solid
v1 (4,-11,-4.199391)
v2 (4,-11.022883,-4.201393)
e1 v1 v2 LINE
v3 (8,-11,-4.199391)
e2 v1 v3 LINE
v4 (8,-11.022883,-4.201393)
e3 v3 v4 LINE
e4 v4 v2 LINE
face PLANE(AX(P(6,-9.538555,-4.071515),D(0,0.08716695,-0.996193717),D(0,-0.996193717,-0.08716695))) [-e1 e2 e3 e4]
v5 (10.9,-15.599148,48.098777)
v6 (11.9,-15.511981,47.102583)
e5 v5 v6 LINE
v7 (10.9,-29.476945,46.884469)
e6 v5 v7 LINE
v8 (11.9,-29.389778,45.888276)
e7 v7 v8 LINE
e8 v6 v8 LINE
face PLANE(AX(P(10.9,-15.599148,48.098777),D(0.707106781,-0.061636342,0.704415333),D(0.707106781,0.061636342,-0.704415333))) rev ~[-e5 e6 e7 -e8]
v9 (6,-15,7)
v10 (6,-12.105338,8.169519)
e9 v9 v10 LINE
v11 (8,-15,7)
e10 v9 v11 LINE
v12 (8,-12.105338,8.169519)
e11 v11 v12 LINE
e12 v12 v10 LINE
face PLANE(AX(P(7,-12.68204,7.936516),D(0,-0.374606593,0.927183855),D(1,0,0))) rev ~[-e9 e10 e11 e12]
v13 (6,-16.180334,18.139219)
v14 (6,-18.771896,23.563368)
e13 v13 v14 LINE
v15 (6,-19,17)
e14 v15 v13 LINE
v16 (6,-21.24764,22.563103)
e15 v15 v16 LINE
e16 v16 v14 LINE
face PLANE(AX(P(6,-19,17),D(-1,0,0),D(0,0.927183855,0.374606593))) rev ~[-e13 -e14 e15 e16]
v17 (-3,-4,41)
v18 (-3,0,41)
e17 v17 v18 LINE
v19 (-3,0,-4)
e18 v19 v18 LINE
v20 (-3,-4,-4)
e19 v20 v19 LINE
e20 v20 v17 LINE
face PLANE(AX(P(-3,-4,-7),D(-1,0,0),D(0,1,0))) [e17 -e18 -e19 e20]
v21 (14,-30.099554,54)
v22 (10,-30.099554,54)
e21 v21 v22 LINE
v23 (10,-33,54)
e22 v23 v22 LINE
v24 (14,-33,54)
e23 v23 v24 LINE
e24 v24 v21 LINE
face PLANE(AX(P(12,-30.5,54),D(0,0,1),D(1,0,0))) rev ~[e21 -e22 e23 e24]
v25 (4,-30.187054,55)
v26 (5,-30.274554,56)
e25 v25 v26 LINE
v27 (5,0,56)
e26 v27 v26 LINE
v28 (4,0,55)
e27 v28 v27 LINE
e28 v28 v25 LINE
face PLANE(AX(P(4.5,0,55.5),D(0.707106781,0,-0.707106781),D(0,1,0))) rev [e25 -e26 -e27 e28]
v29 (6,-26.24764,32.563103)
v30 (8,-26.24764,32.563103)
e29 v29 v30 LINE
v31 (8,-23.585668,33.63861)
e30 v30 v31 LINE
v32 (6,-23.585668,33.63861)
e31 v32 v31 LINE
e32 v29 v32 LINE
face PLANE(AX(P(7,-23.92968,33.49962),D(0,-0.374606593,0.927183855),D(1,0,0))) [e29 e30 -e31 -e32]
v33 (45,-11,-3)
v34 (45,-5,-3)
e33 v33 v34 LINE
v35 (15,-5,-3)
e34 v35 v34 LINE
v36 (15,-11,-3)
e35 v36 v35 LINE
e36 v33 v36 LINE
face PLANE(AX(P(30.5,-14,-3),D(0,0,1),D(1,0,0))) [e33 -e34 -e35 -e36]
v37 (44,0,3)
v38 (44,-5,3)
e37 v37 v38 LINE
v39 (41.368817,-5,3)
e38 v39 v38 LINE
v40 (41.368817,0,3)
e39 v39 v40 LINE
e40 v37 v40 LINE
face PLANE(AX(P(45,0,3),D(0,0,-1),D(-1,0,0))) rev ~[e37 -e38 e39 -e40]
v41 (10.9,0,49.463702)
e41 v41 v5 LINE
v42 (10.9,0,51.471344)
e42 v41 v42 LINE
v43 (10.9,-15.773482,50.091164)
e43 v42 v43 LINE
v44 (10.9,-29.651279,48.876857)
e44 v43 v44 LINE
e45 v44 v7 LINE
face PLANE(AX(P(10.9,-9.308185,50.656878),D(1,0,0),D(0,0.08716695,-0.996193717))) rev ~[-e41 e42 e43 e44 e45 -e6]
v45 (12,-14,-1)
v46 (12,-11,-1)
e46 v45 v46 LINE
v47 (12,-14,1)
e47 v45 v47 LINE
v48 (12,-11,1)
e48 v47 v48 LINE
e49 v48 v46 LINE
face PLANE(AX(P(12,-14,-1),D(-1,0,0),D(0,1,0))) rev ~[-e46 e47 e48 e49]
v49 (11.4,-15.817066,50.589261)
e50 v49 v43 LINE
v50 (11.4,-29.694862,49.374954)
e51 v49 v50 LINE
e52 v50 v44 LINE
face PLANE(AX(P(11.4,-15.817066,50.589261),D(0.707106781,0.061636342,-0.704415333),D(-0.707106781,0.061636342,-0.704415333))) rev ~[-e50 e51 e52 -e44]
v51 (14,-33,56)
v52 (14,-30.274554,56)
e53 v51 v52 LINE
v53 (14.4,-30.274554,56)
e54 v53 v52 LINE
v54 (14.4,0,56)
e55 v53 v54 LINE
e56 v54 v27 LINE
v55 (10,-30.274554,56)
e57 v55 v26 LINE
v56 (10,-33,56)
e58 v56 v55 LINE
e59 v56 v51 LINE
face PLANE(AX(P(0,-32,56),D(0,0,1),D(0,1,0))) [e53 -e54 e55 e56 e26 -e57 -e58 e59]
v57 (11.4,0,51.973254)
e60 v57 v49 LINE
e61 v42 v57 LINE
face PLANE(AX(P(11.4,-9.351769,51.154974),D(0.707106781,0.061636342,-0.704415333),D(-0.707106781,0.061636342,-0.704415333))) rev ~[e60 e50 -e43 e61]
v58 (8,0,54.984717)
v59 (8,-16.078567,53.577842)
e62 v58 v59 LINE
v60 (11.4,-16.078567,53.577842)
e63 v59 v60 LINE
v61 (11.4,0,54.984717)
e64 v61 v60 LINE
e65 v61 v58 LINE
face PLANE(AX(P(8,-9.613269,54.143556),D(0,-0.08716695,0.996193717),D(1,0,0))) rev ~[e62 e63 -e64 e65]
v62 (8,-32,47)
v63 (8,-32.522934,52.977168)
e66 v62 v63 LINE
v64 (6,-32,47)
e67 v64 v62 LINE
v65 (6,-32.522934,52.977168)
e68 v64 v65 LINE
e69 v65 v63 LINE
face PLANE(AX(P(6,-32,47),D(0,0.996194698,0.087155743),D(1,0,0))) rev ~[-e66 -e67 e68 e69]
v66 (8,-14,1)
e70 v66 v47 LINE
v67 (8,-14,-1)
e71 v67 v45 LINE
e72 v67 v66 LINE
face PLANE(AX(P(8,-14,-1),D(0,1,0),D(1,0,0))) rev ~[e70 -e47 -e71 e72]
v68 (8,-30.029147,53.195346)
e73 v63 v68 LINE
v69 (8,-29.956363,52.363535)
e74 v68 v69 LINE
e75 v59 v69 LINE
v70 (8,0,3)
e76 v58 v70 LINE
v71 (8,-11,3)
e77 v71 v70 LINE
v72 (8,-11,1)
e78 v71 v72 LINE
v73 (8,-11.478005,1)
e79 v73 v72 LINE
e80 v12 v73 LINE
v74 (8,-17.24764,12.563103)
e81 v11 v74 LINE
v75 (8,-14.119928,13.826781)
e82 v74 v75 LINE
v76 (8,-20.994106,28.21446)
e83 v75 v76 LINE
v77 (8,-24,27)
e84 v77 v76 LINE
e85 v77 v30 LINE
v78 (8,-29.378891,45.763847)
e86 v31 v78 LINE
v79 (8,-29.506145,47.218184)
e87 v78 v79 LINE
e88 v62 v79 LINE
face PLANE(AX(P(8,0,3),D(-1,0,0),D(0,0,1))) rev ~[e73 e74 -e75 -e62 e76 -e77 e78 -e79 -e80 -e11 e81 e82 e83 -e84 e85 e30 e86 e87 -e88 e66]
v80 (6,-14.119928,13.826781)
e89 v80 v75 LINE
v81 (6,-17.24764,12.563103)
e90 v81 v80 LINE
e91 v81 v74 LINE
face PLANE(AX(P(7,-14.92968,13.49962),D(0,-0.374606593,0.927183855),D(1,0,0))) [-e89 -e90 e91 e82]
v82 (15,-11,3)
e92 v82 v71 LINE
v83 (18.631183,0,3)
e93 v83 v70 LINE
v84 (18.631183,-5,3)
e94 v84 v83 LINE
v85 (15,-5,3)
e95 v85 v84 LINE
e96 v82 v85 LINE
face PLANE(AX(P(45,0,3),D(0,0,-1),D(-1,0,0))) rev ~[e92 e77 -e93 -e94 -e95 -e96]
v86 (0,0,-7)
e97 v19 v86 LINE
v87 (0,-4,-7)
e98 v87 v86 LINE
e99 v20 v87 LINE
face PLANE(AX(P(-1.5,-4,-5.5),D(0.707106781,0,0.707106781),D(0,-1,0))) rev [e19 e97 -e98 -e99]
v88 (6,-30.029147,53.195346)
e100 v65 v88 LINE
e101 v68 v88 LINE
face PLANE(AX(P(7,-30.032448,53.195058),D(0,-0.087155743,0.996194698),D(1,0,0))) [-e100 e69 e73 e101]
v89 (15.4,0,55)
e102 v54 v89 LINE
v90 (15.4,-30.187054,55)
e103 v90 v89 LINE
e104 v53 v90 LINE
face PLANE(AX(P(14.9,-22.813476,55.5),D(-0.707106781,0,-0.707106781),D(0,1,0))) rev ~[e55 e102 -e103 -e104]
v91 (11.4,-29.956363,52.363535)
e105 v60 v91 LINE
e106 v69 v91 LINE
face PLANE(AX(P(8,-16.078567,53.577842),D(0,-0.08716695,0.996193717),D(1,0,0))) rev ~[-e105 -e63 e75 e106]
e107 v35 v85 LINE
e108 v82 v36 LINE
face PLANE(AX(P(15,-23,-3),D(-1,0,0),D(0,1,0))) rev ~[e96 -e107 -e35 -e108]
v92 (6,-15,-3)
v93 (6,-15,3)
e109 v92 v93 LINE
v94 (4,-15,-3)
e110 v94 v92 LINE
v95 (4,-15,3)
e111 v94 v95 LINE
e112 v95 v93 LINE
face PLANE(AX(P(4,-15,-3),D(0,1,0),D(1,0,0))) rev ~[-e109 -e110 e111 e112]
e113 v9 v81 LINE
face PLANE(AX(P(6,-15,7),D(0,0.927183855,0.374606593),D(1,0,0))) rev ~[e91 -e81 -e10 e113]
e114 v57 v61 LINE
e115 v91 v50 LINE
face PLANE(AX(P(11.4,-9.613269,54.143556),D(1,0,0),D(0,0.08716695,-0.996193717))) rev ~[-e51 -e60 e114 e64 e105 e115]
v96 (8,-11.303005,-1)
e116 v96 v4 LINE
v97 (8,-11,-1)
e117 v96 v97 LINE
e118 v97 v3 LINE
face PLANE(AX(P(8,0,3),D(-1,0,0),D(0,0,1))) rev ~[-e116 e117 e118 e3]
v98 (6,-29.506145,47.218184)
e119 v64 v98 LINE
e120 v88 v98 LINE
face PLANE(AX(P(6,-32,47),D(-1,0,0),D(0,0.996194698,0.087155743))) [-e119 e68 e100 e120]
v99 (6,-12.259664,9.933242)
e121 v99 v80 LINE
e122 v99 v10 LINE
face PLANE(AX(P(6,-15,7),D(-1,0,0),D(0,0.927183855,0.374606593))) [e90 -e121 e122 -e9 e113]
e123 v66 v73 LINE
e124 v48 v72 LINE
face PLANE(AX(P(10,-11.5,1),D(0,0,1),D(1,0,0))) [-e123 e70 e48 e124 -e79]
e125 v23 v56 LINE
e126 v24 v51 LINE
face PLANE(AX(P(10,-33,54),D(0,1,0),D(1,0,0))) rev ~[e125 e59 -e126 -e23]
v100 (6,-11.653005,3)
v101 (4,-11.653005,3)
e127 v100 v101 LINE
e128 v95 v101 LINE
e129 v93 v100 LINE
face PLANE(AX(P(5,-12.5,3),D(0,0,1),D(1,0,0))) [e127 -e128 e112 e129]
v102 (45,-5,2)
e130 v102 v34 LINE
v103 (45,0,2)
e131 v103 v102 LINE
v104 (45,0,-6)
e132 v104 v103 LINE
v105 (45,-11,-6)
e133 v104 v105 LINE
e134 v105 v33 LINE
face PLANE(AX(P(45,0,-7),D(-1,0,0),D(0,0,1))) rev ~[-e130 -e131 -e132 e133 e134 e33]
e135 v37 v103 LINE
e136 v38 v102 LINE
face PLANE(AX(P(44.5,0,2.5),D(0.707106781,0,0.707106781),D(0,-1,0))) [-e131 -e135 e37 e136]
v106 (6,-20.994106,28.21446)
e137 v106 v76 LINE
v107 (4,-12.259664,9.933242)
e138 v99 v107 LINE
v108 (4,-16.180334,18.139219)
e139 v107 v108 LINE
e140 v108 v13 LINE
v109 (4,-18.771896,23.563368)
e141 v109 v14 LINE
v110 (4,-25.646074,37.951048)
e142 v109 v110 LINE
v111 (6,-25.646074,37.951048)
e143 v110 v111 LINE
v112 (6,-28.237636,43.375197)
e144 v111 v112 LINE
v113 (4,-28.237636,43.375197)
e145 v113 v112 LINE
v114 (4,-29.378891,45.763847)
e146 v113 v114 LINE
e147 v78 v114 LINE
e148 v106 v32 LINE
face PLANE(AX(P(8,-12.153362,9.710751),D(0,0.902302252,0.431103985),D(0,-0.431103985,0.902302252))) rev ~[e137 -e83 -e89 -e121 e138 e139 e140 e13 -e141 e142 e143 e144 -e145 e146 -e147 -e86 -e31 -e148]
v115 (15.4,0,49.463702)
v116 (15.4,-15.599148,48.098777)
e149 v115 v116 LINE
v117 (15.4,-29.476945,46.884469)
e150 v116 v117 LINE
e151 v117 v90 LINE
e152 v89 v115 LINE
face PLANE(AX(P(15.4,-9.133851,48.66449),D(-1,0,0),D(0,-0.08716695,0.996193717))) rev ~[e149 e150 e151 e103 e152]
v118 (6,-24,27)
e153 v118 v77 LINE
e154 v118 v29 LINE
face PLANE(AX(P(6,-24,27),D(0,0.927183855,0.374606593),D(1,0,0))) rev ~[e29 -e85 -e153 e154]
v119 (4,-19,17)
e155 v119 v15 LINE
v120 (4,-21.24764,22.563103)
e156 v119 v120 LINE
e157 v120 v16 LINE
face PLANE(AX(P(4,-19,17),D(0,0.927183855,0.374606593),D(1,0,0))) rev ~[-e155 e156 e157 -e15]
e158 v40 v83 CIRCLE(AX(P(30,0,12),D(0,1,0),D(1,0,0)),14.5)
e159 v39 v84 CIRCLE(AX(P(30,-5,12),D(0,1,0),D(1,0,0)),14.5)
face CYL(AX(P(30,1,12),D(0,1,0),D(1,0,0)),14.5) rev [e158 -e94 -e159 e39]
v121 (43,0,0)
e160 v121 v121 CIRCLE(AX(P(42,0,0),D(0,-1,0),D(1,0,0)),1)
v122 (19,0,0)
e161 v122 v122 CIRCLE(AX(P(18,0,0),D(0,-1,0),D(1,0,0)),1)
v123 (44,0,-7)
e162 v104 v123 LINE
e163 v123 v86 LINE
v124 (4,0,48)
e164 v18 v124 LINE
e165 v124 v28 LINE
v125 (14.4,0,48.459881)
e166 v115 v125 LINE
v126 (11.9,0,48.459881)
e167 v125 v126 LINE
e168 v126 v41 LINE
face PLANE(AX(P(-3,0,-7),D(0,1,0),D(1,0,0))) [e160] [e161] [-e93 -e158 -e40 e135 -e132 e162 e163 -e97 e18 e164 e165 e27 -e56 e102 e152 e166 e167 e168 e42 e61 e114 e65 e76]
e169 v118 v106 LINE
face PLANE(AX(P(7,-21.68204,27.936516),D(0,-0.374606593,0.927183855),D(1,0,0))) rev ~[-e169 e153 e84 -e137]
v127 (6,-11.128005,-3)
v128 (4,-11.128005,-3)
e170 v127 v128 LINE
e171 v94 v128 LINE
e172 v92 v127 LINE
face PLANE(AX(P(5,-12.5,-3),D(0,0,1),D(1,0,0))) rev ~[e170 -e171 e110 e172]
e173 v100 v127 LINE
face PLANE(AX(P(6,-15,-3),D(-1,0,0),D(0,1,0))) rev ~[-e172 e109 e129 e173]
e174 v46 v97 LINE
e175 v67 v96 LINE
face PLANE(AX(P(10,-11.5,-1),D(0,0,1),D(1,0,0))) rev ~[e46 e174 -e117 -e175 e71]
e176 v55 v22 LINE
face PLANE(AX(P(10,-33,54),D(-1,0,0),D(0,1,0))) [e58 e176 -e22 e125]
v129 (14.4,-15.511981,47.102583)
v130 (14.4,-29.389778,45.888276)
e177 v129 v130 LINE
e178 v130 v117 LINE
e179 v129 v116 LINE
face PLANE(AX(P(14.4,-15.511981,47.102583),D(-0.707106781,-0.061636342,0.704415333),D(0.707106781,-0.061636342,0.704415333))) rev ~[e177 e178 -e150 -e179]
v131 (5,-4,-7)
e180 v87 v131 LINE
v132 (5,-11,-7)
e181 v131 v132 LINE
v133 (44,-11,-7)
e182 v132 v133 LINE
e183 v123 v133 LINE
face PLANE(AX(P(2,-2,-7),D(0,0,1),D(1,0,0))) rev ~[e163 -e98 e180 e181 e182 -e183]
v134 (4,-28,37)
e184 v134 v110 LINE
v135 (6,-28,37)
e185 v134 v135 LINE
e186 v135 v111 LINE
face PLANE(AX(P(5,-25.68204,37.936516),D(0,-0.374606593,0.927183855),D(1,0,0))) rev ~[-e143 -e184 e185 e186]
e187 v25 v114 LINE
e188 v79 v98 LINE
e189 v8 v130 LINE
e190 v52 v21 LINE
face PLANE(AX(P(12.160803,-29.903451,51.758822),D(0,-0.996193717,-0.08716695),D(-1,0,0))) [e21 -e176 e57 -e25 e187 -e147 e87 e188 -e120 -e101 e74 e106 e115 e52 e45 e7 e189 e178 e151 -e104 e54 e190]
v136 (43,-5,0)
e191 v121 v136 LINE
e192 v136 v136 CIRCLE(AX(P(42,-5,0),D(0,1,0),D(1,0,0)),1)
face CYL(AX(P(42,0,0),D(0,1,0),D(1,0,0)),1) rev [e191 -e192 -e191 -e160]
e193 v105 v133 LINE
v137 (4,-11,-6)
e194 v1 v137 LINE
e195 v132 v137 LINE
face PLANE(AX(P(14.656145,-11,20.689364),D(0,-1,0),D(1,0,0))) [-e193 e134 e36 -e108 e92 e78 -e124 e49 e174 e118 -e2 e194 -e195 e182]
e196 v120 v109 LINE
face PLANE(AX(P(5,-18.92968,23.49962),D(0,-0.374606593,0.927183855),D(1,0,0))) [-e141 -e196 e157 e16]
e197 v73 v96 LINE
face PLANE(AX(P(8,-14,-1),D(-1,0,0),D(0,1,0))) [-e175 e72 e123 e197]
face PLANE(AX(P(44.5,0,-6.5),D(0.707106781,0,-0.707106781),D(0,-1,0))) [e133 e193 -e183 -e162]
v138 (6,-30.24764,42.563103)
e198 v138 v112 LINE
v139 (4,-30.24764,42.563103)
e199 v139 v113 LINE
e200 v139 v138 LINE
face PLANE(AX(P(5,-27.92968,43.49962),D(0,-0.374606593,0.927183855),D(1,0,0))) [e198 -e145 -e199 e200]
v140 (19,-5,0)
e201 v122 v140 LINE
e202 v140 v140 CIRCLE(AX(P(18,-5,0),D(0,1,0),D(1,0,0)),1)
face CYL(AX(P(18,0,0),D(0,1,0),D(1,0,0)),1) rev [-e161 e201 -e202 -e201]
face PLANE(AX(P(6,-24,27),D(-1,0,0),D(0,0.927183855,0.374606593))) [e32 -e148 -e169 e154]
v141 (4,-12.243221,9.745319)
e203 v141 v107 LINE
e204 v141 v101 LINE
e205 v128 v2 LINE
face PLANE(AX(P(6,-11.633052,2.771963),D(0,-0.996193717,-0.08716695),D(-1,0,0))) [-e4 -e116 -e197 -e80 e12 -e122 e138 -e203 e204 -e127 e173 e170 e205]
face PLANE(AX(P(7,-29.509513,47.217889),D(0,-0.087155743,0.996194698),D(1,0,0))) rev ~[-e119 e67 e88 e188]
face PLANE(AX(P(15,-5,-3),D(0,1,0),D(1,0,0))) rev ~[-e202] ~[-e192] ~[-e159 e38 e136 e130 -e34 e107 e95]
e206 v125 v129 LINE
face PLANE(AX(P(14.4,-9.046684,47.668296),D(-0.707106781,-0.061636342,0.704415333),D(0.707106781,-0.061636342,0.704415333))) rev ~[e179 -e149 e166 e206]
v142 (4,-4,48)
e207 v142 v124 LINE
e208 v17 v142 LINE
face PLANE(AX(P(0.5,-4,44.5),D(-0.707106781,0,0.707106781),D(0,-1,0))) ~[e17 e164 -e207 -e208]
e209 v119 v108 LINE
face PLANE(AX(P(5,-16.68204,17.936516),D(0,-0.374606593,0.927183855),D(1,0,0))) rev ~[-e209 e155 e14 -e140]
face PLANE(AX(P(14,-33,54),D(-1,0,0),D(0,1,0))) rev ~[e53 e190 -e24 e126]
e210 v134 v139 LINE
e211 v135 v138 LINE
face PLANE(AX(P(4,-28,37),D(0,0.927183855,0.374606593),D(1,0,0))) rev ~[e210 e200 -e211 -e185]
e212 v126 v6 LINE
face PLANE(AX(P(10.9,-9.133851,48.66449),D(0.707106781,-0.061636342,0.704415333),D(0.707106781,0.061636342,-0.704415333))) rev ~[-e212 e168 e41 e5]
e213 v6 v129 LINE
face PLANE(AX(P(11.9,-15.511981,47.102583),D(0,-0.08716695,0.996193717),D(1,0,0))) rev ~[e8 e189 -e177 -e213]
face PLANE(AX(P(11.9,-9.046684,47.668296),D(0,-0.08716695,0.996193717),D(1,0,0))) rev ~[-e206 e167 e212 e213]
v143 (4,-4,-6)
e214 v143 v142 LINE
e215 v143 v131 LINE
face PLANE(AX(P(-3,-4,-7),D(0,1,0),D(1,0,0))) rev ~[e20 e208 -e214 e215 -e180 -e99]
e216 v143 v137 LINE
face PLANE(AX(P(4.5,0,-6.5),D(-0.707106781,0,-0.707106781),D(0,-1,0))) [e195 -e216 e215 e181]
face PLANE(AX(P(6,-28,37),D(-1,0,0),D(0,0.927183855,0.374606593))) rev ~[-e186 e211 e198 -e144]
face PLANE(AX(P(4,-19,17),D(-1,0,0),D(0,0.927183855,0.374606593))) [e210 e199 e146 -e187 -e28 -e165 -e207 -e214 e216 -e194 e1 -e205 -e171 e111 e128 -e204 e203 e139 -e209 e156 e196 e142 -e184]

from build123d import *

# Parameters (mm, degrees)
BOX012_W             = 10
BOX012_H             = 4
BOX012_DEPTH         = 55
CHAMFER008_SIZE      = 7
CHAMFER009_SIZE      = 3
BOX005_W             = 4
BOX005_H             = 5
BOX005_DEPTH         = 2
BOX010_W             = 2
BOX010_H             = 5
BOX010_DEPTH         = 6
BOX010_ROLL_ANGLE    = 5
BOX007_W             = 2
BOX007_H             = 5
BOX007_DEPTH         = 6
BOX007_ROLL_ANGLE    = 22.0000000001
BOX011_W             = 4
BOX011_H             = 5
BOX011_DEPTH         = 2
BOX006_W             = 2
BOX006_H             = 5
BOX006_DEPTH         = 6
BOX009_W             = 2
BOX009_H             = 5
BOX009_DEPTH         = 6
BOX009_ROLL_ANGLE    = 22.0000000001
BOX008_W             = 2
BOX008_H             = 5
BOX008_DEPTH         = 6
BOX008_ROLL_ANGLE    = 22.0000000001
BOX004_W             = 2
BOX004_H             = 5
BOX004_DEPTH         = 6
BOX004_ROLL_ANGLE    = 22.0000000001
SKETCH002_W          = 34
SKETCH002_H          = 4
PAD001_DEPTH         = 30
EXTRUSION008_DEPTH   = 13.9308213426
BOX003_W             = 13
BOX003_H             = 10
BOX003_DEPTH         = 60
FACE006_W            = 8.14
FACE006_H            = 69.180787832
EXTRUSION006_DEPTH   = 0.4604923972
EXTRUSION005_DEPTH   = 8.14
FACE003_W            = 4
FACE003_H            = 14
EXTRUSION003_DEPTH   = 3.51
FACE004_W            = 3.51
FACE004_H            = 4
EXTRUSION004_DEPTH   = 69.180787832
FACE007_W            = 4
FACE007_H            = 69.180787832
EXTRUSION007_DEPTH   = 0.4131433628
FACE002_W            = 10
FACE002_H            = 4
EXTRUSION002_DEPTH   = 14
EXTRUSION_DEPTH      = 10
EXTRUSION001_DEPTH   = 10
FUSION001_ROLL_ANGLE = 5.0006445976
BOX002_W             = 13
BOX002_H             = 13
BOX002_DEPTH         = 49
BOX001_W             = 15
BOX001_H             = 11
BOX001_DEPTH         = 49
BOX_W                = 31
BOX_H                = 18
BOX_DEPTH            = 14
CYLINDER_R           = 14.5
CYLINDER_DEPTH       = 13
CYLINDER_ROLL_ANGLE  = 90.0000000001
SKETCH_R             = 1
PAD_DEPTH            = 11
CHAMFER_SIZE         = 1
CHAMFER001_SIZE      = 1
CHAMFER002_SIZE      = 1
CHAMFER003_SIZE      = 1
CHAMFER004_SIZE      = 1
CHAMFER005_SIZE      = 1
CHAMFER006_SIZE      = 1
EXTRUSION009_DEPTH   = 13.9308213426
POCKET_DEPTH         = 5
CHAMFER007_SIZE      = 1


with BuildPart() as fin002:
    # Box012 → Box012 (new body)
    with BuildSketch(Plane(origin=(-3, -4, -7), x_dir=(1, 0, 0), z_dir=(0, 0, 1))):
        with Locations((5, 2)):
            Rectangle(BOX012_W, BOX012_H)
    extrude(amount=BOX012_DEPTH)

    # Chamfer008
    chamfer008_edges = [fin002.edges().sort_by_distance(p)[0] for p in [
        (-3, -2, 48),
    ]]
    chamfer(chamfer008_edges, length=CHAMFER008_SIZE)

    # Chamfer009
    chamfer009_edges = [fin002.edges().sort_by_distance(p)[0] for p in [
        (-3, -2, -7),
    ]]
    chamfer(chamfer009_edges, length=CHAMFER009_SIZE)


with BuildPart() as cabletab001:
    # Box005 → Box005 (new body)
    with BuildSketch(Plane(origin=(8, -14, -1), x_dir=(1, 0, 0), z_dir=(0, 0, 1))):
        with Locations((2, 2.5)):
            Rectangle(BOX005_W, BOX005_H)
    extrude(amount=BOX005_DEPTH)


with BuildPart() as cabletab006:
    # Box010 → Box010 (new body)
    with BuildSketch(Plane.XY):
        with Locations((1, 2.5)):
            Rectangle(BOX010_W, BOX010_H)
    extrude(amount=BOX010_DEPTH)


with BuildPart() as cabletab006_1:
    # Box010 roll: moved
    add(cabletab006.part.rotate(Axis((0, 0, 0), (1, 0, 0)), BOX010_ROLL_ANGLE))


with BuildPart() as cabletab006_2:
    # Box010 placement: moved
    add(cabletab006_1.part.moved(Location((6, -32, 47))))


with BuildPart() as cabletab003:
    # Box007 → Box007 (new body)
    with BuildSketch(Plane.XY):
        with Locations((1, 2.5)):
            Rectangle(BOX007_W, BOX007_H)
    extrude(amount=BOX007_DEPTH)


with BuildPart() as cabletab003_1:
    # Box007 roll: moved
    add(cabletab003.part.rotate(Axis((0, 0, 0), (1, 0, 0)), BOX007_ROLL_ANGLE))


with BuildPart() as cabletab003_2:
    # Box007 placement: moved
    add(cabletab003_1.part.moved(Location((6, -24, 27))))


with BuildPart() as cabletab007:
    # Box011 → Box011 (new body)
    with BuildSketch(Plane(origin=(10, -33, 54), x_dir=(1, 0, 0), z_dir=(0, 0, 1))):
        with Locations((2, 2.5)):
            Rectangle(BOX011_W, BOX011_H)
    extrude(amount=BOX011_DEPTH)


with BuildPart() as cabletab002:
    # Box006 → Box006 (new body)
    with BuildSketch(Plane(origin=(4, -15, -3), x_dir=(1, 0, 0), z_dir=(0, 0, 1))):
        with Locations((1, 2.5)):
            Rectangle(BOX006_W, BOX006_H)
    extrude(amount=BOX006_DEPTH)


with BuildPart() as cabletab005:
    # Box009 → Box009 (new body)
    with BuildSketch(Plane.XY):
        with Locations((1, 2.5)):
            Rectangle(BOX009_W, BOX009_H)
    extrude(amount=BOX009_DEPTH)


with BuildPart() as cabletab005_1:
    # Box009 roll: moved
    add(cabletab005.part.rotate(Axis((0, 0, 0), (1, 0, 0)), BOX009_ROLL_ANGLE))


with BuildPart() as cabletab005_2:
    # Box009 placement: moved
    add(cabletab005_1.part.moved(Location((4, -28, 37))))


with BuildPart() as cabletab004:
    # Box008 → Box008 (new body)
    with BuildSketch(Plane.XY):
        with Locations((1, 2.5)):
            Rectangle(BOX008_W, BOX008_H)
    extrude(amount=BOX008_DEPTH)


with BuildPart() as cabletab004_1:
    # Box008 roll: moved
    add(cabletab004.part.rotate(Axis((0, 0, 0), (1, 0, 0)), BOX008_ROLL_ANGLE))


with BuildPart() as cabletab004_2:
    # Box008 placement: moved
    add(cabletab004_1.part.moved(Location((4, -19, 17))))


with BuildPart() as cabletabs:
    # Box004 → Box004 (new body)
    with BuildSketch(Plane.XY):
        with Locations((1, 2.5)):
            Rectangle(BOX004_W, BOX004_H)
    extrude(amount=BOX004_DEPTH)


with BuildPart() as cabletabs_1:
    # Box004 roll: moved
    add(cabletabs.part.rotate(Axis((0, 0, 0), (1, 0, 0)), BOX004_ROLL_ANGLE))


with BuildPart() as cabletabs_2:
    # Box004 placement: moved
    add(cabletabs_1.part.moved(Location((6, -15, 7))))

    # Fusion006: union cabletab001, cabletab006, cabletab003, cabletab007, cabletab002, cabletab005, cabletab004
    add(cabletab001.part)
    add(cabletab006_2.part)
    add(cabletab003_2.part)
    add(cabletab007.part)
    add(cabletab002.part)
    add(cabletab005_2.part)
    add(cabletab004_2.part)


with BuildPart() as pad001:
    # Sketch002 → Pad001 (new body)
    with BuildSketch(Plane.YZ):
        with Locations((-15, 58)):
            Rectangle(SKETCH002_W, SKETCH002_H)
    extrude(amount=PAD001_DEPTH)


with BuildPart() as extrusion008:
    # Face008 → Extrusion008 (new body)
    with BuildSketch(Plane(origin=(-17.578899357, -16.0333863028, 53.0614958622), x_dir=(-1, 0, 0), z_dir=(0, -0.9961937175, -0.0871669503))):
        Polygon((4.421100643, -4.5183191267), (4.421100643, -0.5183191267), (1.021100643, -0.5183191267), (1.021100643, 2.4816808733), (1.521100643, 2.9816808733), (1.521100643, 4.9816808733), (0.521100643, 5.9816808733), (-1.978899357, 5.9816808733), (-2.978899357, 4.9816808733), (-2.978899357, -3.5183191267), (-1.978899357, -4.5183191267), align=None)
    extrude(amount=EXTRUSION008_DEPTH)


with BuildPart() as cube003:
    # Box003 → Box003 (new body)
    with BuildSketch(Plane(origin=(-27, 0, 0), x_dir=(1, 0, 0), z_dir=(0, 0, 1))):
        with Locations((6.5, 5)):
            Rectangle(BOX003_W, BOX003_H)
    extrude(amount=BOX003_DEPTH)


with BuildPart() as extrusion006:
    # Face006 → Extrusion006 (new body)
    with BuildSketch(Plane(origin=(-17.93, -18.7549998831, 43.8980956594), x_dir=(-1, 0, 0), z_dir=(0, -0.9961937175, -0.0871669503))):
        Rectangle(FACE006_W, FACE006_H)
    extrude(amount=EXTRUSION006_DEPTH)


with BuildPart() as extrusion005:
    # Face005 → Extrusion005 (new body)
    with BuildSketch(Plane(origin=(-22, -17.0066799089, 44.0510736571), x_dir=(0, -1, 0), z_dir=(1, 0, 0))):
        Polygon((4.7634591209, -34.3057551071), (-1.2668191725, 34.6117111026), (-4.7634591209, 34.3057551071), (1.2668191725, -34.6117111026), align=None)
    extrude(amount=EXTRUSION005_DEPTH)


with BuildPart() as extrusion003:
    # Face003 → Extrusion003 (new body)
    with BuildSketch(Plane(origin=(-24, -15.1296920845, 2.4660065321), x_dir=(-1, 0, 0), z_dir=(0, -0.9961937175, -0.0871669503))):
        Rectangle(FACE003_W, FACE003_H)
    extrude(amount=-EXTRUSION003_DEPTH)


with BuildPart() as fusion002:
    # Face004 → Extrusion004 (new body)
    with BuildSketch(Plane(origin=(-24, -13.9915407622, 9.5923405523), x_dir=(0, 0.9961937175, 0.0871669503), z_dir=(0, -0.0871669503, 0.9961937175))):
        Rectangle(FACE004_W, FACE004_H)
    extrude(amount=EXTRUSION004_DEPTH)

    # Fusion002: union Extrusion003
    add(extrusion003.part)


with BuildPart() as fusion003:
    # Face007 → Extrusion007 (new body)
    with BuildSketch(Plane(origin=(-24, -18.7549998831, 43.8980956594), x_dir=(-1, 0, 0), z_dir=(0, -0.9961937175, -0.0871669503))):
        Rectangle(FACE007_W, FACE007_H)
    extrude(amount=EXTRUSION007_DEPTH)

    # Fusion003: union Extrusion006, Extrusion005, Fusion002
    add(extrusion006.part)
    add(extrusion005.part)
    add(fusion002.part)


with BuildPart() as extrusion002:
    # Face002 → Extrusion002 (new body)
    with BuildSketch(Plane(origin=(-24, -15, 11), x_dir=(0, -1, 0), z_dir=(0, 0, -1))):
        Rectangle(FACE002_W, FACE002_H)
    extrude(amount=EXTRUSION002_DEPTH)


with BuildPart() as extrusion:
    # Face → Extrusion (new body)
    with BuildSketch(Plane(origin=(-22.5493005697, -10, 39.3433444568), x_dir=(-1, 0, 0), z_dir=(0, -1, 0))):
        Polygon((3.4506994303, 28.3433444568), (-0.5493005697, 28.3433444568), (-0.5493005697, -15.6566555432), (-3.9493005697, -15.6566555432), (-3.9493005697, -12.6566555432), (-3.4493005697, -12.1566555432), (-3.4493005697, -10.1566555432), (-4.4493005697, -9.1566555432), (-6.9493005697, -9.1566555432), (-7.9493005697, -10.1566555432), (-7.9493005697, -18.6566555432), (-6.9493005697, -19.6566555432), (2.4506994303, -19.6566555432), (3.4506994303, -18.6566555432), align=None)
    extrude(amount=EXTRUSION_DEPTH)


with BuildPart() as cut005:
    # Face001 → Extrusion001 (new body)
    with BuildSketch(Plane(origin=(-22.5493005697, -10, 39.3433444568), x_dir=(1, 0, 0), z_dir=(0, 1, 0))):
        Polygon((0.5493005697, 28.3433444568), (-3.4506994303, 28.3433444568), (-3.4506994303, -18.6566555432), (-2.4506994303, -19.6566555432), (6.9493005697, -19.6566555432), (7.9493005697, -18.6566555432), (7.9493005697, -10.1566555432), (6.9493005697, -9.1566555432), (4.4493005697, -9.1566555432), (3.4493005697, -10.1566555432), (3.4493005697, -12.1566555432), (3.9493005697, -12.6566555432), (3.9493005697, -15.6566555432), (0.5493005697, -15.6566555432), align=None)
    extrude(amount=EXTRUSION001_DEPTH)

    # Fusion: union Extrusion
    add(extrusion.part)

    # Fusion001: union Extrusion002
    add(extrusion002.part)


with BuildPart() as cut005_1:
    # Fusion001 roll: moved
    add(cut005.part.rotate(Axis((0, 0, 0), (1, 0, 0)), FUSION001_ROLL_ANGLE))


with BuildPart() as cut005_2:
    # Fusion001 placement: moved
    add(cut005_1.part.moved(Location((0, 5.1428500666, 0.2245706677))))

    # Cut004: cut Fusion003
    add(fusion003.part, mode=Mode.SUBTRACT)

    # Cut005: cut Cube003
    add(cube003.part, mode=Mode.SUBTRACT)


with BuildPart() as cube002:
    # Box002 → Box002 (new body)
    with BuildSketch(Plane(origin=(-27, -12, 11), x_dir=(1, 0, 0), z_dir=(0, 0, 1))):
        with Locations((6.5, 6.5)):
            Rectangle(BOX002_W, BOX002_H)
    extrude(amount=BOX002_DEPTH)


with BuildPart() as cube001:
    # Box001 → Box001 (new body)
    with BuildSketch(Plane(origin=(-29, -21, 11), x_dir=(1, 0, 0), z_dir=(0, 0, 1))):
        with Locations((7.5, 5.5)):
            Rectangle(BOX001_W, BOX001_H)
    extrude(amount=BOX001_DEPTH)


with BuildPart() as cube:
    # Box → Box (new body)
    with BuildSketch(Plane(origin=(-15, -23, -3), x_dir=(1, 0, 0), z_dir=(0, 0, 1))):
        with Locations((15.5, 9)):
            Rectangle(BOX_W, BOX_H)
    extrude(amount=BOX_DEPTH)


with BuildPart() as cylinder:
    # Cylinder → Cylinder (new body)
    with BuildSketch(Plane.XY):
        Circle(CYLINDER_R)
    extrude(amount=CYLINDER_DEPTH)


with BuildPart() as cylinder_1:
    # Cylinder roll: moved
    add(cylinder.part.rotate(Axis((0, 0, 0), (1, 0, 0)), CYLINDER_ROLL_ANGLE))


with BuildPart() as cylinder_2:
    # Cylinder placement: moved
    add(cylinder_1.part.moved(Location((0, 1, 12))))


with BuildPart() as fusion004:
    # Sketch → Pad (new body)
    with BuildSketch(Plane.XZ):
        Polygon((15, -7), (15, 3), (-22, 3), (-22, 55), (-18.6, 55), (-18.6, 52), (-19.1, 51.5), (-19.1, 48.5), (-14.6, 48.5), (-14.6, 59), (-26, 59), (-26, -7), align=None)
        with Locations((-12, 0)):
            Circle(SKETCH_R, mode=Mode.SUBTRACT)
        with Locations((12, 0)):
            Circle(SKETCH_R, mode=Mode.SUBTRACT)
    extrude(amount=PAD_DEPTH)

    # Cut: cut Cylinder
    add(cylinder_2.part, mode=Mode.SUBTRACT)

    # Cut001: cut Cube
    add(cube.part, mode=Mode.SUBTRACT)

    # Chamfer
    chamfer_edges = [fusion004.edges().sort_by_distance(p)[0] for p in [
        (15, -5.5, -7),
    ]]
    chamfer(chamfer_edges, length=CHAMFER_SIZE)

    # Chamfer001
    chamfer001_edges = [fusion004.edges().sort_by_distance(p)[0] for p in [
        (-26, -5.5, -7),
    ]]
    chamfer(chamfer001_edges, length=CHAMFER001_SIZE)

    # Chamfer002
    chamfer002_edges = [fusion004.edges().sort_by_distance(p)[0] for p in [
        (-26, -5.5, 59),
    ]]
    chamfer(chamfer002_edges, length=CHAMFER002_SIZE)

    # Chamfer003
    chamfer003_edges = [fusion004.edges().sort_by_distance(p)[0] for p in [
        (-14.6, -5.5, 59),
    ]]
    chamfer(chamfer003_edges, length=CHAMFER003_SIZE)

    # Chamfer004
    chamfer004_edges = [fusion004.edges().sort_by_distance(p)[0] for p in [
        (-14.6, -5.5, 48.5),
    ]]
    chamfer(chamfer004_edges, length=CHAMFER004_SIZE)

    # Chamfer005
    chamfer005_edges = [fusion004.edges().sort_by_distance(p)[0] for p in [
        (-19.1, -5.5, 48.5),
    ]]
    chamfer(chamfer005_edges, length=CHAMFER005_SIZE)

    # Chamfer006
    chamfer006_edges = [fusion004.edges().sort_by_distance(p)[0] for p in [
        (15, -2.5, 3),
    ]]
    chamfer(chamfer006_edges, length=CHAMFER006_SIZE)

    # Cut002: cut Cube001
    add(cube001.part, mode=Mode.SUBTRACT)

    # Cut003: cut Cube002
    add(cube002.part, mode=Mode.SUBTRACT)

    # Fusion004: union Cut005
    add(cut005_2.part)


with BuildPart() as fusion007:
    # Face009 → Extrusion009 (new body)
    with BuildSketch(Plane(origin=(-23.9956483899, -14.3298412993, 33.5924101077), x_dir=(-1, 0, 0), z_dir=(0, -0.9961937175, -0.0871669503))):
        Polygon((2.0043516101, 23.9382071366), (-1.9956483899, 23.9382071366), (-1.9956483899, -20.0617928634), (-1.9956483899, -24.0617928634), (1.0043516101, -24.0617928634), (2.0043516101, -23.0617928634), align=None)
    extrude(amount=EXTRUSION009_DEPTH)

    # Sketch001 → Pocket (cut)
    with BuildSketch(Plane.YZ.offset(-22)):
        Polygon((-12.153362, 9.710751), (-30, 47.063831), (-30, 0), align=None)
    extrude(amount=-POCKET_DEPTH, mode=Mode.SUBTRACT)

    # Fusion005: union Extrusion008, Fusion004
    add(extrusion008.part)
    add(fusion004.part)


with BuildPart() as fusion007_1:
    # Fusion005 placement: moved
    add(fusion007.part.moved(Location((30, 0, 0))))

    # Cut006: cut Pad001
    add(pad001.part, mode=Mode.SUBTRACT)

    # Chamfer007
    chamfer007_edges = [fusion007_1.edges().sort_by_distance(p)[0] for p in [
        (4, -11.406738, 56),
        (15.4, -11.406738, 56),
    ]]
    chamfer(chamfer007_edges, length=CHAMFER007_SIZE)

    # Fusion007: union fin002, cabletabs
    add(fin002.part)
    add(cabletabs_2.part)


solid = fusion007_1.part
